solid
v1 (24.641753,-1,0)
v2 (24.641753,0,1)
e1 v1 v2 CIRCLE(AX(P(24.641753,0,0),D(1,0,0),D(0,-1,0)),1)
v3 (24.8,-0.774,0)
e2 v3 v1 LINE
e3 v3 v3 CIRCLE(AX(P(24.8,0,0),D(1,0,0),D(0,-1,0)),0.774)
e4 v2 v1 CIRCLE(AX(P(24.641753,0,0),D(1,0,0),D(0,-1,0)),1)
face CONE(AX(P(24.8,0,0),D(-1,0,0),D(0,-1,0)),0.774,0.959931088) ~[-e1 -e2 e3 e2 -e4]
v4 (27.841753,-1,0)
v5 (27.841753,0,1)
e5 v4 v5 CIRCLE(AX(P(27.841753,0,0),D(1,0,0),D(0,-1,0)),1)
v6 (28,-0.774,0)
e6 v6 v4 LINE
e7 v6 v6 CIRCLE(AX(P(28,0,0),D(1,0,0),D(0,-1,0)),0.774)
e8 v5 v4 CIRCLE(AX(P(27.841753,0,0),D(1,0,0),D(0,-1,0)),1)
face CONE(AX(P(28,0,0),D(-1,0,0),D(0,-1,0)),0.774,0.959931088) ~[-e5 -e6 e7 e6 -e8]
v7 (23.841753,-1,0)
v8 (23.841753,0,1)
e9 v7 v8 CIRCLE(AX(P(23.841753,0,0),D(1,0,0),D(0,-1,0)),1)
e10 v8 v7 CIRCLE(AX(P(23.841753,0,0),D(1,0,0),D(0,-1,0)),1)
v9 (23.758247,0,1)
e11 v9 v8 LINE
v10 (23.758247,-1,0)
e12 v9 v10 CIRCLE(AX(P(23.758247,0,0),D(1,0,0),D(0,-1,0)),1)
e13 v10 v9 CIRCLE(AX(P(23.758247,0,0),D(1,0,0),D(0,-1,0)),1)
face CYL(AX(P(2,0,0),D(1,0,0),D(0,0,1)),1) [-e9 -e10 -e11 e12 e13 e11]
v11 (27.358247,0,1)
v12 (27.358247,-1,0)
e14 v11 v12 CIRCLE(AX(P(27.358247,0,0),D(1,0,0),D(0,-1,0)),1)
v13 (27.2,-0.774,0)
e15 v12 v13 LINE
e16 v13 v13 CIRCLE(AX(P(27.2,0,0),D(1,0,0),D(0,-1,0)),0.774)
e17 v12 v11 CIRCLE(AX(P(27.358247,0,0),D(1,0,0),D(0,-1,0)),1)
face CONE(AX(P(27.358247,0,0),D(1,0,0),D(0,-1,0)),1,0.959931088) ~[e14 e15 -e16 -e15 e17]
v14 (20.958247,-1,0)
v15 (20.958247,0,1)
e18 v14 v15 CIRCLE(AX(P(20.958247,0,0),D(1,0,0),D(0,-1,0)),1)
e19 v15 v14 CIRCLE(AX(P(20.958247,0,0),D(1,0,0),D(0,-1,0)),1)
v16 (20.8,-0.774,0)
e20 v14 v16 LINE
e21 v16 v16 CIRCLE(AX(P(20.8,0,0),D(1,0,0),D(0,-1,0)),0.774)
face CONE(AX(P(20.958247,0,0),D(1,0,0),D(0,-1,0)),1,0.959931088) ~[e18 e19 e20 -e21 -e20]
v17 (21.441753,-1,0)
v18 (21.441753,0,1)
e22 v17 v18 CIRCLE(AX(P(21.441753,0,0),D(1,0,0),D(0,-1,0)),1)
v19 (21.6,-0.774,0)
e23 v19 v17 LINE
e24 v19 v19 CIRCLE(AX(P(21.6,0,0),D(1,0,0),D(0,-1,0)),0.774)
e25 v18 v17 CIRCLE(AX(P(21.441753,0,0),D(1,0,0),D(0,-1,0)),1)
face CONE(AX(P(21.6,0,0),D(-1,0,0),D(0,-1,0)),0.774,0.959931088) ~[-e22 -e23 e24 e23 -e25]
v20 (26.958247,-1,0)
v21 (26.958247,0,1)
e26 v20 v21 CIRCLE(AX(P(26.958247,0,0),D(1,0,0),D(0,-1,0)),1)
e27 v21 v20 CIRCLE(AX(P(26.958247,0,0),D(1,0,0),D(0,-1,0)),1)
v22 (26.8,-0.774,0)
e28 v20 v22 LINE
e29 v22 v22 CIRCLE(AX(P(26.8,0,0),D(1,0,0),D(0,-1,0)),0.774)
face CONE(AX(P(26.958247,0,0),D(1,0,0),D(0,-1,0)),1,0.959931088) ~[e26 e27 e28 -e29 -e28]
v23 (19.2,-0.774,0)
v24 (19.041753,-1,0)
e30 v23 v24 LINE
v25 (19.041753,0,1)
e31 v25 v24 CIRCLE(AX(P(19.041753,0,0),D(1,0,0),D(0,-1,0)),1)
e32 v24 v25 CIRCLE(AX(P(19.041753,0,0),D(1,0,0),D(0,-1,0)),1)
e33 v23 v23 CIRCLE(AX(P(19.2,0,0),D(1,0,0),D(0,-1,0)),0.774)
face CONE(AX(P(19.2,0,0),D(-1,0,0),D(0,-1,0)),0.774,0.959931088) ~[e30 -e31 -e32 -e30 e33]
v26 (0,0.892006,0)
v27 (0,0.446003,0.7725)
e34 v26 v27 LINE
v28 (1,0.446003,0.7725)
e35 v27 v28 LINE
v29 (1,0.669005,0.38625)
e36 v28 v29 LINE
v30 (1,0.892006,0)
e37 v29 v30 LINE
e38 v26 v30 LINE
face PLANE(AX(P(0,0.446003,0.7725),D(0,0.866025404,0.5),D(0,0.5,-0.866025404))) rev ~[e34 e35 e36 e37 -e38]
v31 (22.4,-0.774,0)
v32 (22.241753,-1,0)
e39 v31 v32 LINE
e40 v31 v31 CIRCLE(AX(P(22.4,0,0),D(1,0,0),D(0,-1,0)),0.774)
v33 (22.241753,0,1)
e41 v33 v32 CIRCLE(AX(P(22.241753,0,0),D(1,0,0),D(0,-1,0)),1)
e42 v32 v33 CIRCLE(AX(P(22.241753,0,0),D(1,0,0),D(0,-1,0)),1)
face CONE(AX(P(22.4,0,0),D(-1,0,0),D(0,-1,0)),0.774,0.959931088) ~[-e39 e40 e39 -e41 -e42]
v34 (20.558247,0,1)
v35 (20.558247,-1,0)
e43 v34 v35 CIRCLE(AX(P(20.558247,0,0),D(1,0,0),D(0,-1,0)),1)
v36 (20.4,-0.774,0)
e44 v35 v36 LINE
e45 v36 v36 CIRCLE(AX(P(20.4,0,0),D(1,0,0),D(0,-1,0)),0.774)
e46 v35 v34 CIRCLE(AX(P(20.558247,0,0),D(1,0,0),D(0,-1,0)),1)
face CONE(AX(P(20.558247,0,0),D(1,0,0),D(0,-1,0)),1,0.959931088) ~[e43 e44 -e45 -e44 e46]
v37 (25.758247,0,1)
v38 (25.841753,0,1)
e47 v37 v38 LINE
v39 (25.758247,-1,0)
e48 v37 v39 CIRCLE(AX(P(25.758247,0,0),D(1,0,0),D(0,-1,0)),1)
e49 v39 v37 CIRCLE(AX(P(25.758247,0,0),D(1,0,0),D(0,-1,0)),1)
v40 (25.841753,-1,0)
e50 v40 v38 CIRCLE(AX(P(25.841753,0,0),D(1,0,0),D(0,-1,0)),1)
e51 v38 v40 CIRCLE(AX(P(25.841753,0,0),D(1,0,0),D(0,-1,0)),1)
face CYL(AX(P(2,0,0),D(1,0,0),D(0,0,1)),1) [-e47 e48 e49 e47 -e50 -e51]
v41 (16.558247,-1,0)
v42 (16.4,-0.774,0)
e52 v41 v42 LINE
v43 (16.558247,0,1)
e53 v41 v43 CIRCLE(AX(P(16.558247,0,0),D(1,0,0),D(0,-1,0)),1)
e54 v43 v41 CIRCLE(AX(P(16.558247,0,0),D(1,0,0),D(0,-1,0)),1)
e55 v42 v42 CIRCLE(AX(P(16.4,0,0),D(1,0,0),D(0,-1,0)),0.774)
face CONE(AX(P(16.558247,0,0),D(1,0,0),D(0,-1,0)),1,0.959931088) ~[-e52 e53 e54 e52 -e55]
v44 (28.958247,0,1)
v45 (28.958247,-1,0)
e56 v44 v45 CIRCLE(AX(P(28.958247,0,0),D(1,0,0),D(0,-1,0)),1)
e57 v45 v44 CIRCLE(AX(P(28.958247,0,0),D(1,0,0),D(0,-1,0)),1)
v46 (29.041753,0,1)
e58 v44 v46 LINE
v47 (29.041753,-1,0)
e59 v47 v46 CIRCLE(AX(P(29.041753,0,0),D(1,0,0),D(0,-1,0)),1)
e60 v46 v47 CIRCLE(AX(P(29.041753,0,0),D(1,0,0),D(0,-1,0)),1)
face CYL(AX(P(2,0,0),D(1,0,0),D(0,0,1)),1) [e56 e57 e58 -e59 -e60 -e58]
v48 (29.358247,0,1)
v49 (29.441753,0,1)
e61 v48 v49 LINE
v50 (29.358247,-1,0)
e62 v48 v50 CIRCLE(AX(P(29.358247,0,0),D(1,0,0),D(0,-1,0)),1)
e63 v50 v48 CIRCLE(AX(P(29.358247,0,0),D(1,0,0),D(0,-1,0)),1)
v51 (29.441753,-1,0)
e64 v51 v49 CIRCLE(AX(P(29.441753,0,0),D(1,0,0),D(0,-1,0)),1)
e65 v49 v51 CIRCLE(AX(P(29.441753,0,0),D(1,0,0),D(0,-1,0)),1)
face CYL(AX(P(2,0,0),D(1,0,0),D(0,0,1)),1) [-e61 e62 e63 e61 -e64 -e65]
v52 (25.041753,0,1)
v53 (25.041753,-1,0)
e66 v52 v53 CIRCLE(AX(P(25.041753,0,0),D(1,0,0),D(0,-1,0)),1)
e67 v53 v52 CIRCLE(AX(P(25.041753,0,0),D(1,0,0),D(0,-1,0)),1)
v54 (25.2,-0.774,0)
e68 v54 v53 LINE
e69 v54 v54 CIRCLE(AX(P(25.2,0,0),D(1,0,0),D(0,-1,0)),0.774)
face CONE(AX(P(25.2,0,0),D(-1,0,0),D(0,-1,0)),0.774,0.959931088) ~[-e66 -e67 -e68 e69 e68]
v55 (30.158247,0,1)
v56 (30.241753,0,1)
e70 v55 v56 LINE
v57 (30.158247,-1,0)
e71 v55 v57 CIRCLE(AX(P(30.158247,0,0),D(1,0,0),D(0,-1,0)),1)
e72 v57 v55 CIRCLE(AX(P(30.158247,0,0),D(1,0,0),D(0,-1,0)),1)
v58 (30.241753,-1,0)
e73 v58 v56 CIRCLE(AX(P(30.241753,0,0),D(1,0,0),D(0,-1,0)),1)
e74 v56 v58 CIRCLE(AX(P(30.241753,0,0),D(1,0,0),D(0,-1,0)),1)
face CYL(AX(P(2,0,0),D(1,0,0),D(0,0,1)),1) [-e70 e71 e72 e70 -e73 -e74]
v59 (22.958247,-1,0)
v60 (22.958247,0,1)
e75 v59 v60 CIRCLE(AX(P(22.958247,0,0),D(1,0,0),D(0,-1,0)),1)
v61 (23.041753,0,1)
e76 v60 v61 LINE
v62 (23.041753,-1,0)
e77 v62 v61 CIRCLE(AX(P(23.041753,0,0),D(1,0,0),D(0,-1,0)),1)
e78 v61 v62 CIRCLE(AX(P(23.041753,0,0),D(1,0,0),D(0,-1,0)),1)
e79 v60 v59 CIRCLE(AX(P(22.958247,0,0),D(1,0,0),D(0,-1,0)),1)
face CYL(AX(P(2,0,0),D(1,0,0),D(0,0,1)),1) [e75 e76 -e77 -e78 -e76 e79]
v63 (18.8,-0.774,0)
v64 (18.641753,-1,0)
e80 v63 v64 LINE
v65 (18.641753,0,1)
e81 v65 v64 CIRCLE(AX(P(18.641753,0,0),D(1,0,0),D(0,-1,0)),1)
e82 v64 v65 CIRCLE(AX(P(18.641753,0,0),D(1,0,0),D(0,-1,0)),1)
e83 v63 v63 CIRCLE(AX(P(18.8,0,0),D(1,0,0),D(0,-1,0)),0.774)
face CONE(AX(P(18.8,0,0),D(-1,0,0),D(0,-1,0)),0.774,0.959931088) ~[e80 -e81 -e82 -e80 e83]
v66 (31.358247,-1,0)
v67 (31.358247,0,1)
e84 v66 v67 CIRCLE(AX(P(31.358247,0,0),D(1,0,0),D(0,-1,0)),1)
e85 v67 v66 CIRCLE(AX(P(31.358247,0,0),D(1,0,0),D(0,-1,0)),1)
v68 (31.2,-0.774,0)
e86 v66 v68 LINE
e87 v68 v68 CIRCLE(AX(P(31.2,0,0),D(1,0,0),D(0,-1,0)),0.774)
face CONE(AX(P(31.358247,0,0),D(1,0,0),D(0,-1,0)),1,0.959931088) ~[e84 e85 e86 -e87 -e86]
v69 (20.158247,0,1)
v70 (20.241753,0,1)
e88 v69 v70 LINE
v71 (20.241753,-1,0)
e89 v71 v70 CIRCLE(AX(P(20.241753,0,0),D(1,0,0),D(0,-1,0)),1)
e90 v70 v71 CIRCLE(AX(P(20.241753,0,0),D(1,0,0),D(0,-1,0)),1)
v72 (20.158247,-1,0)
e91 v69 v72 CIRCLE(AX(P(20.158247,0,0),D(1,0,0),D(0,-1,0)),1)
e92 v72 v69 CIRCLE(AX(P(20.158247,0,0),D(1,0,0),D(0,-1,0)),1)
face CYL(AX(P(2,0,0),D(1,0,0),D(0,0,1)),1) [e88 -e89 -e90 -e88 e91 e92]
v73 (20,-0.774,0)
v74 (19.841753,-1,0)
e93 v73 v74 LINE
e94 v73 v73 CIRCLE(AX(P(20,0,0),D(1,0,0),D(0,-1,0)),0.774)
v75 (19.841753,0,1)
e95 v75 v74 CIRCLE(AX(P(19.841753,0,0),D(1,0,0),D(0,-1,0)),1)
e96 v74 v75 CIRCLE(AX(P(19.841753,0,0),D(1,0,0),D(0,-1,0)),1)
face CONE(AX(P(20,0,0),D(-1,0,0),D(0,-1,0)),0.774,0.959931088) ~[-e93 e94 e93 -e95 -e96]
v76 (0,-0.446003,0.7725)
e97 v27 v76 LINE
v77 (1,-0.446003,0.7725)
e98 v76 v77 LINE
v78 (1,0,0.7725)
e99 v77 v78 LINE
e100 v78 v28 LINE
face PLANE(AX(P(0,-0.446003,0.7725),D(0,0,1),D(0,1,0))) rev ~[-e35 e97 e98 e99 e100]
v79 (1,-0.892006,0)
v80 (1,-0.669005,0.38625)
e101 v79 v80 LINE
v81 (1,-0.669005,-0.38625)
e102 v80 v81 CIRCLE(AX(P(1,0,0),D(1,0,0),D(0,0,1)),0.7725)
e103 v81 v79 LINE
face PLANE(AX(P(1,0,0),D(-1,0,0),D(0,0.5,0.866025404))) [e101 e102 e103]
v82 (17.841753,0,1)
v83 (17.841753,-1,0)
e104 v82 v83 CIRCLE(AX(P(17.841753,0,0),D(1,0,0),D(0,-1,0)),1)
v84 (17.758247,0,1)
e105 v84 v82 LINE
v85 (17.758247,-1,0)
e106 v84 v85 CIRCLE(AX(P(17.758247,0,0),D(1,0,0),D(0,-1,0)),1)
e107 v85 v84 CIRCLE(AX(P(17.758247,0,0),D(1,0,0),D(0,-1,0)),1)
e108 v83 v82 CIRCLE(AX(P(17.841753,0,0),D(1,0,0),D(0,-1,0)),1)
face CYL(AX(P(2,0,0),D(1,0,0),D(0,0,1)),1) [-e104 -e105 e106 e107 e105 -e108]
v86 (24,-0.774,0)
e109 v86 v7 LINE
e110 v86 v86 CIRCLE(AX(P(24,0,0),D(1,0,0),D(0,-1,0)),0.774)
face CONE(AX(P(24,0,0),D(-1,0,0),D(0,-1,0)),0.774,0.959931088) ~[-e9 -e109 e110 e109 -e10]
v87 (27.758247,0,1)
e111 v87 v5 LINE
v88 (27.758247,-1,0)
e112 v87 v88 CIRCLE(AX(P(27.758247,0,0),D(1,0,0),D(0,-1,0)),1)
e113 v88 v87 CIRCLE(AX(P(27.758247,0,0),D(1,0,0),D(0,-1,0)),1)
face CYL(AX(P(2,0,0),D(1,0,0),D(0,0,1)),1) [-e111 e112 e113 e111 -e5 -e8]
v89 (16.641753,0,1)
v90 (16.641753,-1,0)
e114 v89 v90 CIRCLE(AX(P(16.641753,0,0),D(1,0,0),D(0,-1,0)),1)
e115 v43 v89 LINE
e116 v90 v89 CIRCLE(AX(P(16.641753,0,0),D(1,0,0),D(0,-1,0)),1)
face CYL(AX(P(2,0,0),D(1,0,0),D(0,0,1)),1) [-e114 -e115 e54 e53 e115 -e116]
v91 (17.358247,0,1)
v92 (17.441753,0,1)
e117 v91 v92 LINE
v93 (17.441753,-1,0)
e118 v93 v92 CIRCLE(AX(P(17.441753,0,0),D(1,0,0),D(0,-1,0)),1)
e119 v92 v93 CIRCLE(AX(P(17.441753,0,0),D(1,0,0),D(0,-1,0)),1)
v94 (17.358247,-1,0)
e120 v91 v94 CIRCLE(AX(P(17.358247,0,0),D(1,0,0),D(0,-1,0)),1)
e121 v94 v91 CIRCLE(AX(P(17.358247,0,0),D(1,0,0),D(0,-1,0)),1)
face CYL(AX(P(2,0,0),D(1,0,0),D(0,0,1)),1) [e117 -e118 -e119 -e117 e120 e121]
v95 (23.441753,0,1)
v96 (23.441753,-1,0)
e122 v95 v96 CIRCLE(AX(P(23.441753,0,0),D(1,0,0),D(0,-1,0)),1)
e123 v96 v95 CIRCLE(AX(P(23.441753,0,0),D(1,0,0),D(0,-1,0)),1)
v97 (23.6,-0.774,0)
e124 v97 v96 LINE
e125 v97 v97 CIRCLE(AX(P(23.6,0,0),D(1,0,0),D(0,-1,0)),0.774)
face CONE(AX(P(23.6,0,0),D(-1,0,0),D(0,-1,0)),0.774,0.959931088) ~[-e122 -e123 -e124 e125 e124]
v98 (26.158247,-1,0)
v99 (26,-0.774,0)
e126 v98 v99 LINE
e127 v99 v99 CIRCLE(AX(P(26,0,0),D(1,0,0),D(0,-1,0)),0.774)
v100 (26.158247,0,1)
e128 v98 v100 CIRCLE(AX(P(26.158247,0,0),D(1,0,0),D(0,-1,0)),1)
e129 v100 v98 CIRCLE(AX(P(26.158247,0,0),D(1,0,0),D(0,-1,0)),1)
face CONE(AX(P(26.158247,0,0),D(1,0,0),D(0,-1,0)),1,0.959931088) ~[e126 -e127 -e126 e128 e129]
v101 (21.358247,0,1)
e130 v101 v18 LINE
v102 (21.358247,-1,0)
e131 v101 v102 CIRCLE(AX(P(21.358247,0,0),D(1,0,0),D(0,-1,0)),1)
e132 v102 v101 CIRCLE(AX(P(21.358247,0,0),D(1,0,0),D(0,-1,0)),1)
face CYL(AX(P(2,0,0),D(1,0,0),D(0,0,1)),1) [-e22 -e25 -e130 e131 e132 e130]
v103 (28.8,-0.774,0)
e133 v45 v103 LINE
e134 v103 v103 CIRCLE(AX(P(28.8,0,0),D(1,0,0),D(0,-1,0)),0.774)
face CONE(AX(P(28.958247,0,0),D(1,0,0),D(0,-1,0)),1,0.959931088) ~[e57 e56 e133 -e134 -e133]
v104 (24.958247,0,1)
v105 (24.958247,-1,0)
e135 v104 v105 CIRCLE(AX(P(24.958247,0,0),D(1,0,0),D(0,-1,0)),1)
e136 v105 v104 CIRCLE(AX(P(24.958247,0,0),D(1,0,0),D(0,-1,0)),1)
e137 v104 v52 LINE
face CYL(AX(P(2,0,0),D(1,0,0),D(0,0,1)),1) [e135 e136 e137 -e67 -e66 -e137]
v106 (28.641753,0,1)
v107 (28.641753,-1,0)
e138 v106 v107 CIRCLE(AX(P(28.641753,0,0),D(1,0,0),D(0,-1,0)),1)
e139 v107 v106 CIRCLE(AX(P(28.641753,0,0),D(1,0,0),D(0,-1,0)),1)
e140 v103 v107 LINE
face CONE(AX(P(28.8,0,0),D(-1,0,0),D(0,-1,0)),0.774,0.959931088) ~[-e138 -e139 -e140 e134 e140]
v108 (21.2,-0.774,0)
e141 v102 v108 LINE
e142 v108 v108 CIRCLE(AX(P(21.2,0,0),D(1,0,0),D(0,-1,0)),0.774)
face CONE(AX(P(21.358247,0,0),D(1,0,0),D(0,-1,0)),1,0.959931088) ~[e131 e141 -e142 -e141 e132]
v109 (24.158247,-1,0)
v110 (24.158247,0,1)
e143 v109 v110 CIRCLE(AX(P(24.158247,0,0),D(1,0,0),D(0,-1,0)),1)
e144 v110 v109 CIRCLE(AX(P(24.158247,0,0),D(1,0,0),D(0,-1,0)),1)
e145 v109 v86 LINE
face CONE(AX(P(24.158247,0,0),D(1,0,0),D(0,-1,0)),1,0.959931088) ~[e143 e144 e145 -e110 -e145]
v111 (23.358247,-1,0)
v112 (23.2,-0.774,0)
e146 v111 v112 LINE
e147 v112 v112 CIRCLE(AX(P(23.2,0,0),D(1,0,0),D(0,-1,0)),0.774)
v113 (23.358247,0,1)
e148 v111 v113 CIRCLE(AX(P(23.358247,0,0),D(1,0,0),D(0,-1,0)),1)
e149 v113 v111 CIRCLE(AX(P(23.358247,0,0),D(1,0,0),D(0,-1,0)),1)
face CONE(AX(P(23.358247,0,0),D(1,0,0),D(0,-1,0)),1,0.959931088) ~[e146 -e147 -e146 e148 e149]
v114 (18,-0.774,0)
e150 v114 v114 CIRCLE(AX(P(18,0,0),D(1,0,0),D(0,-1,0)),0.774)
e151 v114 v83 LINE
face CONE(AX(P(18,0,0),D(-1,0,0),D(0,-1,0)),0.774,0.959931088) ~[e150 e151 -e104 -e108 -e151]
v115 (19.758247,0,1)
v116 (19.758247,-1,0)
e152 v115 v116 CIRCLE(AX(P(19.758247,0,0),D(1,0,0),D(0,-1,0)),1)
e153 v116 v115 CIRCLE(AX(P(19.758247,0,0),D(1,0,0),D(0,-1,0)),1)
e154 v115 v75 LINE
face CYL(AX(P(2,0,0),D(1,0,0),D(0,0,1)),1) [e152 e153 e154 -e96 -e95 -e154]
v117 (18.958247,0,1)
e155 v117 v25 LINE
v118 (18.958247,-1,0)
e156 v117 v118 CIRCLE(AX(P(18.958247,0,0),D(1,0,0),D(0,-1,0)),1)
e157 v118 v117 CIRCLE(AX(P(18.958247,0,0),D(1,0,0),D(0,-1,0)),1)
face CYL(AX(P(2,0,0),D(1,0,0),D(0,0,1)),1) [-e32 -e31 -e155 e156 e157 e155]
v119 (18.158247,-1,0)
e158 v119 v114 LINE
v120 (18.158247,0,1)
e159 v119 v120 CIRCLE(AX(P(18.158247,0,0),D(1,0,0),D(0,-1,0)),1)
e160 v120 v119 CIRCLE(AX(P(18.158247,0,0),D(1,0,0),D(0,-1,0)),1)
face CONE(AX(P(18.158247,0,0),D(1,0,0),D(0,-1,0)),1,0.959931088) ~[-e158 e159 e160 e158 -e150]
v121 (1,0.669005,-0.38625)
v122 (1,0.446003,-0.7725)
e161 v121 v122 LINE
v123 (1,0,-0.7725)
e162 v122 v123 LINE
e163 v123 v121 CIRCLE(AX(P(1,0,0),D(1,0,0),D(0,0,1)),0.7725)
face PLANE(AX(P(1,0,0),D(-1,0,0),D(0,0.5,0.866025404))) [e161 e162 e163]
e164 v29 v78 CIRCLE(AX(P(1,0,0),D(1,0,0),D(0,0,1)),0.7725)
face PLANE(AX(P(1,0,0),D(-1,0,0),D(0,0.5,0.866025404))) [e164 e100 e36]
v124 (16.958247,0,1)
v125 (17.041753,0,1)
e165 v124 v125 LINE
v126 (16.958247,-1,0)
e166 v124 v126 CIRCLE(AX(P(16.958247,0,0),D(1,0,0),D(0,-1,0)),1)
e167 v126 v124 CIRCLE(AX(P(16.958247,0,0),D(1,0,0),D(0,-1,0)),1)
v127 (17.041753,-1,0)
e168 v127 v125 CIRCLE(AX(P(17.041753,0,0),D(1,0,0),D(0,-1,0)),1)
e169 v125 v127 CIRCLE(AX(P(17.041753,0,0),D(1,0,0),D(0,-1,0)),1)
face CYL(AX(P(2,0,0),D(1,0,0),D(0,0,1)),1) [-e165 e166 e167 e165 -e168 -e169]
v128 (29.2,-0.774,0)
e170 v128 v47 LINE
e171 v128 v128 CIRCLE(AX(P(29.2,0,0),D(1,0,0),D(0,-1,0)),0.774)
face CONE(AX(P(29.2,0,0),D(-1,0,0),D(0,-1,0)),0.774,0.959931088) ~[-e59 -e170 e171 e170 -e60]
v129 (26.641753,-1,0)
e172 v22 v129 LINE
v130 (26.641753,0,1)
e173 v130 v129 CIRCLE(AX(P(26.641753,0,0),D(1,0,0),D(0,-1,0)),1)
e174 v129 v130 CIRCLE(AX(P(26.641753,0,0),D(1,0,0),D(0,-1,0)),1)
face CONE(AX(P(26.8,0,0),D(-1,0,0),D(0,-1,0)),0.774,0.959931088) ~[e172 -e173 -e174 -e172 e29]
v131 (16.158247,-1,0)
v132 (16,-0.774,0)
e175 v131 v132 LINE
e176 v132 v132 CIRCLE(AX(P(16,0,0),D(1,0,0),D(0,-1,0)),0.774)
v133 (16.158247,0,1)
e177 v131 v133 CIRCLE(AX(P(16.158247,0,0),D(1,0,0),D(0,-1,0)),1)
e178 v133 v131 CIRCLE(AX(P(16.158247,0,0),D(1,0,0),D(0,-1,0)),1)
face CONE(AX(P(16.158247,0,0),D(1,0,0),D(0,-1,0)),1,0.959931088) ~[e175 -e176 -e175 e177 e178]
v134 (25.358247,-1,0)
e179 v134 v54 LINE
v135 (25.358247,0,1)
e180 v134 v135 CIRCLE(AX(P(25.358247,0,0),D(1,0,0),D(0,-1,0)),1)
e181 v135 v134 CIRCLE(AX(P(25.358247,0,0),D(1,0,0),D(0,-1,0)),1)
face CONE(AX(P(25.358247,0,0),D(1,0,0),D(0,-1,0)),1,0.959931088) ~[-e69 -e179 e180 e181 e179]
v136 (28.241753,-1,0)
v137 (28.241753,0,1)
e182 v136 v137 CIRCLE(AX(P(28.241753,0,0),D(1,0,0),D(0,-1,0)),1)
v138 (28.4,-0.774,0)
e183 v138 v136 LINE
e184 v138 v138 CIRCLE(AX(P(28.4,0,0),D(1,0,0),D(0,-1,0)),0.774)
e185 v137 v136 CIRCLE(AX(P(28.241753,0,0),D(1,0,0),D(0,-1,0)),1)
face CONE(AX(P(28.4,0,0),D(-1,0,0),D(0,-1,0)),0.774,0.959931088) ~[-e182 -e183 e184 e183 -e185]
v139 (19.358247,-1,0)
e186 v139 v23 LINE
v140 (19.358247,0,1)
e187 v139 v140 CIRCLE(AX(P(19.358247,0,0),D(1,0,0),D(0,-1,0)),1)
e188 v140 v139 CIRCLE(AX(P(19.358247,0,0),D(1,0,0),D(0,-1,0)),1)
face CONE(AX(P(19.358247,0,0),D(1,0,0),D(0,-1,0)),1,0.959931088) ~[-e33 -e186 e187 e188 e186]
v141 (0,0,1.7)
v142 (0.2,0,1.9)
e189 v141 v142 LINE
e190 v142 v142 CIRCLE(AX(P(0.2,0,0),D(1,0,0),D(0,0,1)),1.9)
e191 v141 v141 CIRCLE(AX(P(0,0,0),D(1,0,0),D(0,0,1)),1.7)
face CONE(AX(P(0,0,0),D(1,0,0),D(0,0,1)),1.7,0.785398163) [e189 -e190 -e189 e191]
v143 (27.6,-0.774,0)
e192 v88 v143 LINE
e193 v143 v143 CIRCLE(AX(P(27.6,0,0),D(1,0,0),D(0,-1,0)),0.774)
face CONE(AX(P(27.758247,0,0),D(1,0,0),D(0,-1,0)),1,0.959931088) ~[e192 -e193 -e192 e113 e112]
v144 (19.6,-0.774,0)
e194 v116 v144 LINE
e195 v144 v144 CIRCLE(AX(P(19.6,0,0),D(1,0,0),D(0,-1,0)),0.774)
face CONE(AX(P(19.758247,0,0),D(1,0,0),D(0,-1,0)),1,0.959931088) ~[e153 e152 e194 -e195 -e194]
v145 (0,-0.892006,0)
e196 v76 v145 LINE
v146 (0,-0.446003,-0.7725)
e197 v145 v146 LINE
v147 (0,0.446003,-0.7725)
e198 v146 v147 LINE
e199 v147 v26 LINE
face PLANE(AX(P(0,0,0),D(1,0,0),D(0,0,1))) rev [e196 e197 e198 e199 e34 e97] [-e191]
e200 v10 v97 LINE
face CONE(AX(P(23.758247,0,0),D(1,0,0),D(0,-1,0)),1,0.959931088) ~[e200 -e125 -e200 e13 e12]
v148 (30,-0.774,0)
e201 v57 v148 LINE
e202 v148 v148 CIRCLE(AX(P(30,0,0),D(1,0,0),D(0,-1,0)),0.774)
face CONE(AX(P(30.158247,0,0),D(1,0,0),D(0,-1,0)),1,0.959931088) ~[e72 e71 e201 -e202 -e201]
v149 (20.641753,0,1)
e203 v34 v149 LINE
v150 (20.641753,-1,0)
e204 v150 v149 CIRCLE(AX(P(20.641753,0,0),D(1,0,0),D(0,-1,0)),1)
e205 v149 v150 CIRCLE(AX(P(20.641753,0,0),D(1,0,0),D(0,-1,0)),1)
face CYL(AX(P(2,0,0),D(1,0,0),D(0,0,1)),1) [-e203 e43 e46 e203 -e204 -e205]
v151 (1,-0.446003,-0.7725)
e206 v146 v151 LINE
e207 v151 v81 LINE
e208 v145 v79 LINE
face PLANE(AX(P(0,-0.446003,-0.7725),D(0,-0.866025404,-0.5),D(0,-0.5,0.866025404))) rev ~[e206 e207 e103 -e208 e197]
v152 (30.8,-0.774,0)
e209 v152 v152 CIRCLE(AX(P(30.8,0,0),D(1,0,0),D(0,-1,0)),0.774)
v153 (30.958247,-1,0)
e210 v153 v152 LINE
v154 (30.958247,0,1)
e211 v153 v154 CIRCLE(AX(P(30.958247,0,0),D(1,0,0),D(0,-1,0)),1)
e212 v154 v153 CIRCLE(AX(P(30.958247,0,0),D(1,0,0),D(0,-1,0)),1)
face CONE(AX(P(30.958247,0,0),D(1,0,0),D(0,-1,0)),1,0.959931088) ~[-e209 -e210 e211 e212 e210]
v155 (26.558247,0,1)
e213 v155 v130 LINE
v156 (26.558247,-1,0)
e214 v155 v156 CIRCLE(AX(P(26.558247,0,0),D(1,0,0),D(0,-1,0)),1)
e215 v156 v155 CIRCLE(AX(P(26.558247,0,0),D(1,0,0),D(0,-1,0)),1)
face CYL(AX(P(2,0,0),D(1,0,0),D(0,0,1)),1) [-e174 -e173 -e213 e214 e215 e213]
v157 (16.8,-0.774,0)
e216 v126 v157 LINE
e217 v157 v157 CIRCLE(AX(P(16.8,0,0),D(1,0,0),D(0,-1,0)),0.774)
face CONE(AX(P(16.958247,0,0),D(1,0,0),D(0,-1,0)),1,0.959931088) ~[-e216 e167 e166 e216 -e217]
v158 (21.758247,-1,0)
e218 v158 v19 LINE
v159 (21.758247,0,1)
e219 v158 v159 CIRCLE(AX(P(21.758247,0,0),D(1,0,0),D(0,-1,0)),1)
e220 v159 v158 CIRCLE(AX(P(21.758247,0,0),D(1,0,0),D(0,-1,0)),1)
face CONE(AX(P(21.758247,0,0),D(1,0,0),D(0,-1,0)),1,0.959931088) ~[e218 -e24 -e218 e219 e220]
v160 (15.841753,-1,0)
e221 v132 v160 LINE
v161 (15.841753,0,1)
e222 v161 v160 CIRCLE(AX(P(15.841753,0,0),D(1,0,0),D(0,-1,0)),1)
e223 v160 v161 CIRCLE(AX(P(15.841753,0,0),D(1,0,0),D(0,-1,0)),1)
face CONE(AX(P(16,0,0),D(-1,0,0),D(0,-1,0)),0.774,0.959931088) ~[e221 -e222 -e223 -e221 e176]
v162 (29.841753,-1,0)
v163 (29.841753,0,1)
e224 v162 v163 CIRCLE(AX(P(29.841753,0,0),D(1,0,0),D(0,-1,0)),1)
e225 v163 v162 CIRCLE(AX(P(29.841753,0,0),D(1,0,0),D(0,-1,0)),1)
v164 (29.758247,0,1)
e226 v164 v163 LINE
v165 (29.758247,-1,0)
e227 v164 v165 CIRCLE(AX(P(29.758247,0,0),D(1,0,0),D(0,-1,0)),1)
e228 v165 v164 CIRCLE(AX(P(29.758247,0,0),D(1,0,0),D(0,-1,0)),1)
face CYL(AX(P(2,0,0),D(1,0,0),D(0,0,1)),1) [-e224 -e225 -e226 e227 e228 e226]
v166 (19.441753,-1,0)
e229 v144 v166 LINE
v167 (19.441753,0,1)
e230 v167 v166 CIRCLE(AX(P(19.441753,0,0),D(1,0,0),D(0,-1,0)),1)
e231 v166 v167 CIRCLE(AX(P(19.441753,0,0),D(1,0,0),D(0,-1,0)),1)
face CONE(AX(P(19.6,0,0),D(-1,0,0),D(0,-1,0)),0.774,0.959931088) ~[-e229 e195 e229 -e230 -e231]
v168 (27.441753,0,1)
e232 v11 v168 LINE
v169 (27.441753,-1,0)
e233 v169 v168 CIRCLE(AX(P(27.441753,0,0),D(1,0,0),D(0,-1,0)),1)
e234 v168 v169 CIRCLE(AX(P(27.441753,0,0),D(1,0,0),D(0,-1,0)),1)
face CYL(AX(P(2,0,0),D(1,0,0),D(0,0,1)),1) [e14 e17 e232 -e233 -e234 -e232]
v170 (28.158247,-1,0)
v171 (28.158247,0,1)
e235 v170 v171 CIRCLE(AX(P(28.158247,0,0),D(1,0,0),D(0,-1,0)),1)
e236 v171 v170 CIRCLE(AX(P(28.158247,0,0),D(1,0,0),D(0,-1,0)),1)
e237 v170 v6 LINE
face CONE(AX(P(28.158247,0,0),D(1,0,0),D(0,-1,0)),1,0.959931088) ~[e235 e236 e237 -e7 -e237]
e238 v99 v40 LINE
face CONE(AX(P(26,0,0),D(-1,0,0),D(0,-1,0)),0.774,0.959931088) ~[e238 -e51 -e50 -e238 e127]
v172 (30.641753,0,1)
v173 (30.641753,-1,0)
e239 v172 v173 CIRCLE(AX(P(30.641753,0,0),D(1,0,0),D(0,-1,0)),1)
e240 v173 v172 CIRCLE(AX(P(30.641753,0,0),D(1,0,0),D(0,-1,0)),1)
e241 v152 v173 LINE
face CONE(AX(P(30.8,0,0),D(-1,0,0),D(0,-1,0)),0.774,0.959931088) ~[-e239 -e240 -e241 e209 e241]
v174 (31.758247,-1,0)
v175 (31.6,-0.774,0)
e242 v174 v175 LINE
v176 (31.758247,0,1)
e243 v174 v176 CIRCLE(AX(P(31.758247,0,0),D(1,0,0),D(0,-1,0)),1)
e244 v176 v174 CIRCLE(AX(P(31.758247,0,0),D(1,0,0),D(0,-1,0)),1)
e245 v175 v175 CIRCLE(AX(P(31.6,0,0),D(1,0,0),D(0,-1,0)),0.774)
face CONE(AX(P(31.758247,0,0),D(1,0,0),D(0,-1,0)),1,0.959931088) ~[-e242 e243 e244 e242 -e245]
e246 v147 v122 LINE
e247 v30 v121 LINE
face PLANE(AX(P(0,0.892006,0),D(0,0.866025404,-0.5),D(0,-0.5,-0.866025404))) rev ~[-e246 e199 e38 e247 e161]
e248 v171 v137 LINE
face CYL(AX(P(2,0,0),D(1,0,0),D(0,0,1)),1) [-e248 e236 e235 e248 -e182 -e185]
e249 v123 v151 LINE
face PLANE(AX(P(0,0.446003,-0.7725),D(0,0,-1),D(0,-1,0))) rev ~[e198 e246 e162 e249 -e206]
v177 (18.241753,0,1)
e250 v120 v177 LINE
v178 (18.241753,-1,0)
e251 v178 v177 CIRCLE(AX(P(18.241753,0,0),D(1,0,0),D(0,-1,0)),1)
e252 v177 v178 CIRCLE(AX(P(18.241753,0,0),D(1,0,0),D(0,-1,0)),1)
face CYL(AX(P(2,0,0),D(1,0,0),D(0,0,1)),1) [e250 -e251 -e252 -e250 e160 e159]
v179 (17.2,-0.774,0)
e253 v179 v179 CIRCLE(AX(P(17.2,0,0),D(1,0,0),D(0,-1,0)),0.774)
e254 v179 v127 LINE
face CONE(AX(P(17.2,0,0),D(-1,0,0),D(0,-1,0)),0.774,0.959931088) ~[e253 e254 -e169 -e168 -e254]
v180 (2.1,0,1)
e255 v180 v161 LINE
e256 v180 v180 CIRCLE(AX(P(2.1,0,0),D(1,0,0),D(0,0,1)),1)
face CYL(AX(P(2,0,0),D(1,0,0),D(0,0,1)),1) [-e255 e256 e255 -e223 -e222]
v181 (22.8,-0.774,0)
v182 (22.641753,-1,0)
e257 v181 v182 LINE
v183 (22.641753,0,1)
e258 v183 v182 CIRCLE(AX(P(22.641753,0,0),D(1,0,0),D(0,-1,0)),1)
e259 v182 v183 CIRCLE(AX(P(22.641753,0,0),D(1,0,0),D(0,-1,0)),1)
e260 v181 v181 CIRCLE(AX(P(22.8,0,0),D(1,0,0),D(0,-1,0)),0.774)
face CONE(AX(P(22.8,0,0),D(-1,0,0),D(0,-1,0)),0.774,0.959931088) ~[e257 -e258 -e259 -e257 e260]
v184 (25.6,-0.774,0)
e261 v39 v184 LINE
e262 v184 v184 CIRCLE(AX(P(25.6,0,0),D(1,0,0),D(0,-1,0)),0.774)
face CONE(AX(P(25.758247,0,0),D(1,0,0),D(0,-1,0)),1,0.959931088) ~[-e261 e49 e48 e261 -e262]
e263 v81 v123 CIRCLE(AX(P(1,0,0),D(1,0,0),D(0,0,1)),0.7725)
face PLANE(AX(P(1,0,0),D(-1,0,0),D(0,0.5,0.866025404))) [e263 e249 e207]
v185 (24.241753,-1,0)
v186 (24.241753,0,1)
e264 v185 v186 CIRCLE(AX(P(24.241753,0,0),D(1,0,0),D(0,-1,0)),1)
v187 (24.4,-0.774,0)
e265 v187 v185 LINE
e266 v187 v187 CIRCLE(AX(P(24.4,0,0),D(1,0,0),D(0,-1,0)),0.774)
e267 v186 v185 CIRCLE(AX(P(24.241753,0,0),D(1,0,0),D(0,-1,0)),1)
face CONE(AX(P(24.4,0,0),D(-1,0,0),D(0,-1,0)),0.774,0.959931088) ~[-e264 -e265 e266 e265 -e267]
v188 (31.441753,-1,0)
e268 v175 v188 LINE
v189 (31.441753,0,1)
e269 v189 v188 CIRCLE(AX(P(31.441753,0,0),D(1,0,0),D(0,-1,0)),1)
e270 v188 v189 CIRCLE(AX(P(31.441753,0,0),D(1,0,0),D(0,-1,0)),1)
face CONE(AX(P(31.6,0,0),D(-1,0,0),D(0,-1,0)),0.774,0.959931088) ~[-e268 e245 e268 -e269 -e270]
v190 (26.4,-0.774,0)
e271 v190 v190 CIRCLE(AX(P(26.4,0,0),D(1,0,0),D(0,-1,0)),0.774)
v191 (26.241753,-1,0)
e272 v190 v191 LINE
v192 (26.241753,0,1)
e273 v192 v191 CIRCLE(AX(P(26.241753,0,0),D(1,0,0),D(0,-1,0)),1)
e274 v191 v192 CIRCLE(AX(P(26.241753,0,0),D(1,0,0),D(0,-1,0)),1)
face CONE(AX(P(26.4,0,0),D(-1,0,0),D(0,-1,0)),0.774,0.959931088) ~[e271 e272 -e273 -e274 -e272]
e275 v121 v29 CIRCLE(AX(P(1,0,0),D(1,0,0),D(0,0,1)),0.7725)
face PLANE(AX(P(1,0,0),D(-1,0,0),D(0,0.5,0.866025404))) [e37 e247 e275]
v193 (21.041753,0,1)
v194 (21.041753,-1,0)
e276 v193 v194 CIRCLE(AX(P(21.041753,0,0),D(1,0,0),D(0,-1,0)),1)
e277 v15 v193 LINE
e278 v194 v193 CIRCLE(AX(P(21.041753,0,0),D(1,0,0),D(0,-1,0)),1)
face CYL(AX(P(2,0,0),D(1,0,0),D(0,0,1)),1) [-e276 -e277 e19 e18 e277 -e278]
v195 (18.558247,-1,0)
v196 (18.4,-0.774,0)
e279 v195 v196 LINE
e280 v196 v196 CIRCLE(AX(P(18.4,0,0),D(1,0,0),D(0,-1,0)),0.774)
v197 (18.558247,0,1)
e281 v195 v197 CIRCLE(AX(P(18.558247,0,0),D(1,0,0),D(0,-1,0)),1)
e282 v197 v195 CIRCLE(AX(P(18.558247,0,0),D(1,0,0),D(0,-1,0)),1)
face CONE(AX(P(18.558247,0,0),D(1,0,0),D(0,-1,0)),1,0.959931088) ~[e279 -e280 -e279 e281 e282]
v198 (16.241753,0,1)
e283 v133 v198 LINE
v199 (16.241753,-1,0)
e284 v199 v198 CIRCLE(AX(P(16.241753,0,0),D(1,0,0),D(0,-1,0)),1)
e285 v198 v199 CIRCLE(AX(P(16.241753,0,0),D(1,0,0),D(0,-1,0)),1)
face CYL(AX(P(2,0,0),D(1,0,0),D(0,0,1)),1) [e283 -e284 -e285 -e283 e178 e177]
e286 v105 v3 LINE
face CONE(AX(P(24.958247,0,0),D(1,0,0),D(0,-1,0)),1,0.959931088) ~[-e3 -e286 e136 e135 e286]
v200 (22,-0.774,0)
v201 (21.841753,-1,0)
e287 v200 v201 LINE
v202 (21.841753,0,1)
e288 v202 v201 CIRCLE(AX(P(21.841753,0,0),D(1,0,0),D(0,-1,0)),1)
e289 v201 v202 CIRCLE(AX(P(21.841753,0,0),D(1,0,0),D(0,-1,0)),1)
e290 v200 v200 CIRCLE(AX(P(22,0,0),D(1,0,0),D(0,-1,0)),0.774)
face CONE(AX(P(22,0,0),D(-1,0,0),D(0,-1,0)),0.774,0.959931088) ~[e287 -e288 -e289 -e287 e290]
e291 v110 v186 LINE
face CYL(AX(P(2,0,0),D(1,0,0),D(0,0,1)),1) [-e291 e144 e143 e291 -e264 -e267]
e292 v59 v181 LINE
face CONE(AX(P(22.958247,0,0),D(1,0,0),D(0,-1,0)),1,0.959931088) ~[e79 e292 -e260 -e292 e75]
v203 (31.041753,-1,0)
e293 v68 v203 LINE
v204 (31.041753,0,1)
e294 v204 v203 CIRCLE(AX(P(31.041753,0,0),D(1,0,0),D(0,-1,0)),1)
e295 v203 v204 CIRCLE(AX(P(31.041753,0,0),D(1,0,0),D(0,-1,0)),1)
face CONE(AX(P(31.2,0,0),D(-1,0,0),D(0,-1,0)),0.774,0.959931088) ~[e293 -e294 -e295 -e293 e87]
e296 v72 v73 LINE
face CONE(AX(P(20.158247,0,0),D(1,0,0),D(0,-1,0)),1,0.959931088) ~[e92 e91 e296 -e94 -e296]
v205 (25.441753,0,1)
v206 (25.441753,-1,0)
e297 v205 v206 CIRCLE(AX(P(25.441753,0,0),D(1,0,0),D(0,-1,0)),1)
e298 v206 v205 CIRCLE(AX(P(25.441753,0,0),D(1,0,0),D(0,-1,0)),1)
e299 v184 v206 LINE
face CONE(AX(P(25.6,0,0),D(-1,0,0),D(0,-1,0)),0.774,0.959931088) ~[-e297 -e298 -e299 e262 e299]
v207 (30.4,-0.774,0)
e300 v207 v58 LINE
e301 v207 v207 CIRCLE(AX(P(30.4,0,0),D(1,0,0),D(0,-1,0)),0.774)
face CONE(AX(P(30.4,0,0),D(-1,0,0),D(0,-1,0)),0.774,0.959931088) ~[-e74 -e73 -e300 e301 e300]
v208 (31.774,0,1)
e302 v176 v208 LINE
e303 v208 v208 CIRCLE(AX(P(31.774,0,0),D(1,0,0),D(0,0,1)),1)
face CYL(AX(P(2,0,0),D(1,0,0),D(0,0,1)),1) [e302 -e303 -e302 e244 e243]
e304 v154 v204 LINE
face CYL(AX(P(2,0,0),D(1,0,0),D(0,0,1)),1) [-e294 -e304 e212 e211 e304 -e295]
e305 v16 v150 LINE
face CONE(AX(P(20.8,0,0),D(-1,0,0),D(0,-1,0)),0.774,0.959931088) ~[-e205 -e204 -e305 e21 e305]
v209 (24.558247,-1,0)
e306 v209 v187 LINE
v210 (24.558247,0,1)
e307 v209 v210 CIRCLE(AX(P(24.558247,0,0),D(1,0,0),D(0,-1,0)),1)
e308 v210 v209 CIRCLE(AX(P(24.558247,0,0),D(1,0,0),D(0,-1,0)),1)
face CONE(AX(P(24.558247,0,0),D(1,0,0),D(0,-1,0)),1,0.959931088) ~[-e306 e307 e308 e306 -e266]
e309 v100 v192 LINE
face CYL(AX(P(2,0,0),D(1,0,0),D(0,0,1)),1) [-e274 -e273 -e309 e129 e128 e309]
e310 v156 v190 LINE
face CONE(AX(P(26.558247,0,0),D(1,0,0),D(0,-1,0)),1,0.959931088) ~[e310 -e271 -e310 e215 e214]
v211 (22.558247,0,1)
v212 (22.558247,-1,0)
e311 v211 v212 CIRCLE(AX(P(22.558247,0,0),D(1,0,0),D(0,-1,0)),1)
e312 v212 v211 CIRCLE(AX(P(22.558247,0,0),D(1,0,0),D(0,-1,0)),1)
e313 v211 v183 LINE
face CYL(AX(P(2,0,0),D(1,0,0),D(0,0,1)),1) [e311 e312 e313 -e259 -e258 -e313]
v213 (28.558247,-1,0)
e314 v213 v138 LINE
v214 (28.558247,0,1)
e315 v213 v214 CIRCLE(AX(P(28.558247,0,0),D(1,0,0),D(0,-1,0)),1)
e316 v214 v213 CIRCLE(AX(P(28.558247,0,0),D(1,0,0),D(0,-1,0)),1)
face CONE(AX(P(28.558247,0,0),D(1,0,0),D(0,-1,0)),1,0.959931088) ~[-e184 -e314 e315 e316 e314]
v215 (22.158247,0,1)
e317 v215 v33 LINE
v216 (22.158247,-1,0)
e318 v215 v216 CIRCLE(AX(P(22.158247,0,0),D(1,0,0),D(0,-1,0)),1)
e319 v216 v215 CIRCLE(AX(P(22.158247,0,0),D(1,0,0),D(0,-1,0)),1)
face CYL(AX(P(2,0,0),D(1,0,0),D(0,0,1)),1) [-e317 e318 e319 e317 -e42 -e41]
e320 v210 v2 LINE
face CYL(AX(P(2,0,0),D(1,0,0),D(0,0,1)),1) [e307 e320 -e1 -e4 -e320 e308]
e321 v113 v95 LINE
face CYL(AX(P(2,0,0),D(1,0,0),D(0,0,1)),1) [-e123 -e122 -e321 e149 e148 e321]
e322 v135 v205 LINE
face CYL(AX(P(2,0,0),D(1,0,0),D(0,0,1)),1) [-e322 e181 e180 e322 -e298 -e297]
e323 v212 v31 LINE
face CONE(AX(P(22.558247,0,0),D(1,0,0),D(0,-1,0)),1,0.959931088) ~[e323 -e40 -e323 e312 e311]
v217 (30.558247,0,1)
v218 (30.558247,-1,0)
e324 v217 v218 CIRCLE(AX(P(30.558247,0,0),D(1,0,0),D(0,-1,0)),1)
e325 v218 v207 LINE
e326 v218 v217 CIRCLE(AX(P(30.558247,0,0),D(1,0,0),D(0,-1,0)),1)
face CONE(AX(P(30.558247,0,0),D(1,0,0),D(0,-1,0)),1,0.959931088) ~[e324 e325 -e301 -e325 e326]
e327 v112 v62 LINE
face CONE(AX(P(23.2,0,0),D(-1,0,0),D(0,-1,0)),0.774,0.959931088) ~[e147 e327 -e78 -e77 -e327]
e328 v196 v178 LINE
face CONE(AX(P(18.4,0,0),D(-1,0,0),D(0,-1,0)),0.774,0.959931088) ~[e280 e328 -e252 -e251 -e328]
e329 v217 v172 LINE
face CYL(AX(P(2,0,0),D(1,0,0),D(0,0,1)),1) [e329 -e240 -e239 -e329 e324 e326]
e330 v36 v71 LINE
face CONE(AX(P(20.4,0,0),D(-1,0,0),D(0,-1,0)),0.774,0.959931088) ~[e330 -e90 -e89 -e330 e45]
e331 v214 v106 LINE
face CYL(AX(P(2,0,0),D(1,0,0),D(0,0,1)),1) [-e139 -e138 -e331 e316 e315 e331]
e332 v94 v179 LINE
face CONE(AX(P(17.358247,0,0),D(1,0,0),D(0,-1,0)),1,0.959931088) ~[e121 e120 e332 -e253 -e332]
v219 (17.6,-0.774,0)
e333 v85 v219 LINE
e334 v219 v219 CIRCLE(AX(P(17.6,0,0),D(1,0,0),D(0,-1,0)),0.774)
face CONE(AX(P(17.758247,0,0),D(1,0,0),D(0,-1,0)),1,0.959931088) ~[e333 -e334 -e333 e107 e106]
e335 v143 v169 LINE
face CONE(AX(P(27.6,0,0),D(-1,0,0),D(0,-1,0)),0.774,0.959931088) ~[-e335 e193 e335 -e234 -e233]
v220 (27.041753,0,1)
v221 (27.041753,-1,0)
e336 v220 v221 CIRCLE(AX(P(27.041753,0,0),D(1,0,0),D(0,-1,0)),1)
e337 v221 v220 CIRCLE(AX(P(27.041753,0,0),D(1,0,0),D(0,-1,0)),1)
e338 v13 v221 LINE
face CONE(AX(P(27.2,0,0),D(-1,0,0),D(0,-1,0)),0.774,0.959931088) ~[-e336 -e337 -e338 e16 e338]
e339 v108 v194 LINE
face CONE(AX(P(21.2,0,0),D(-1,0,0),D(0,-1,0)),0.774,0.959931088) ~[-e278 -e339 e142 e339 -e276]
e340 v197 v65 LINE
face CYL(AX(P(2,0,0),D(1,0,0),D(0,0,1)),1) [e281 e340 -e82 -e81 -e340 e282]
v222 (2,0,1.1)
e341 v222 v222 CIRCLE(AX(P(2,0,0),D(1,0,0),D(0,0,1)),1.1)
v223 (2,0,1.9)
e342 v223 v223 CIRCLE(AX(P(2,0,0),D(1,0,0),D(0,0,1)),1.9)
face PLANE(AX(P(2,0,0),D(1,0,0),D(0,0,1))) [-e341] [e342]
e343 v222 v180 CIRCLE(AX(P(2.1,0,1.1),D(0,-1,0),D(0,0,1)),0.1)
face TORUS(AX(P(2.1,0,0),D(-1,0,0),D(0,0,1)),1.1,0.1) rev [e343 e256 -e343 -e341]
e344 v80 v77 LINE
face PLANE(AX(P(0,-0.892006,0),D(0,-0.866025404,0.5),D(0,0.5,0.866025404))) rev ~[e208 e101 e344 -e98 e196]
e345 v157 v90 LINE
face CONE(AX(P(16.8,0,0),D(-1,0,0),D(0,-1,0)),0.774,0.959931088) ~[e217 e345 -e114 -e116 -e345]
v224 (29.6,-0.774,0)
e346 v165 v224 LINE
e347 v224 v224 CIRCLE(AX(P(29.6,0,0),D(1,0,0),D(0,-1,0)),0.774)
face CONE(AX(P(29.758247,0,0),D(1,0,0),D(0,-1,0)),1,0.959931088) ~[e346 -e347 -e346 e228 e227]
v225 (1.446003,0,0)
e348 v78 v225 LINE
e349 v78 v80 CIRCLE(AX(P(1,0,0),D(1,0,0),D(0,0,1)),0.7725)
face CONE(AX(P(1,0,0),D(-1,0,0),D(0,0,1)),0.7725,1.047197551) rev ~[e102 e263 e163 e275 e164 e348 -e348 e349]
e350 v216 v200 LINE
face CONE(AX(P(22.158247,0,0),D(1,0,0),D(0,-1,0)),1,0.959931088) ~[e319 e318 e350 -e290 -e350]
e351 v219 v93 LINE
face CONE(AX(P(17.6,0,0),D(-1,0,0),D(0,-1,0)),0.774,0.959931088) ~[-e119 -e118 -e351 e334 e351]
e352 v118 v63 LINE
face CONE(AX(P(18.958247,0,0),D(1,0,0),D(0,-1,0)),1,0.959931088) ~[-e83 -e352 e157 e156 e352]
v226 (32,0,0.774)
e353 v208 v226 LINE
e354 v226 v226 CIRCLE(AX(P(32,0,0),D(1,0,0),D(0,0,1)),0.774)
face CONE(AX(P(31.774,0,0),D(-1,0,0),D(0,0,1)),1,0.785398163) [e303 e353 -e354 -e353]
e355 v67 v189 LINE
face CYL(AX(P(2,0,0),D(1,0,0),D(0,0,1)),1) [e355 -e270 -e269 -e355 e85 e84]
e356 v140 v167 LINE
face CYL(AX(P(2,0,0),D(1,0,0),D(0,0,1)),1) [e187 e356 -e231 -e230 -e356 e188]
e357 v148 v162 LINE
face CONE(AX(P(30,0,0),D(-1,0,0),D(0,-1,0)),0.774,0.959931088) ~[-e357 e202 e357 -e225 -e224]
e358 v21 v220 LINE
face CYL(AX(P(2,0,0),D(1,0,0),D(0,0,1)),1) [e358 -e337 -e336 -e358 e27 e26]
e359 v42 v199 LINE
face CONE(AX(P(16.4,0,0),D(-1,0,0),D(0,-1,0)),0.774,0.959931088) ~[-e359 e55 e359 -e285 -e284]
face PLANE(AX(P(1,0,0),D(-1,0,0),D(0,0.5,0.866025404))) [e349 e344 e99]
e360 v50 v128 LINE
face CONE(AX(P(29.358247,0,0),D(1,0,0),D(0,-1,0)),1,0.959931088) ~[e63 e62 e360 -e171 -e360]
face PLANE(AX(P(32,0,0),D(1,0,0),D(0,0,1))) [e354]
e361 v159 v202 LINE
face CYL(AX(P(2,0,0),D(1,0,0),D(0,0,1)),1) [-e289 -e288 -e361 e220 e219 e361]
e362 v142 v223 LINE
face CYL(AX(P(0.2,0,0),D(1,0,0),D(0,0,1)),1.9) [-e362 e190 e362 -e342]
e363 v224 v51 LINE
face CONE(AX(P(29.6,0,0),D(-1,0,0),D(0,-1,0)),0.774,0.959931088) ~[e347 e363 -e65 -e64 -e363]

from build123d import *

# Parameters (mm, degrees)
FILLET1_R       = 0.1
HEX_2_DEPTH     = 1
THDSCHPAT_COUNT = 40
THDSCHPAT_PITCH = 0.4


with BuildPart() as part:
    # BodySke → Base-Revolve (revolve)
    with BuildSketch(Plane.XY):
        Polygon((0, 0), (0, 1.7), (0.2, 1.9), (2, 1.9), (2, 1), (31.774, 1), (32, 0.774), (32, 0), align=None)
    revolve(axis=Axis((-31.75, 0, 0), (1, 0, 0)))

    # Fillet1
    fillet1_edges = [part.edges().sort_by_distance(p)[0] for p in [
        (2, -1, 0),
    ]]
    fillet(fillet1_edges, radius=FILLET1_R)

    # Sketch2 → Hex-PreBroach (revolve, cut)
    with BuildSketch(Plane.XY):
        Polygon((0, 0.7725), (1, 0.7725), (1.446003083, 0), (0, 0), align=None)
    revolve(axis=Axis((0, 0, 0), (1, 0, 0)), mode=Mode.SUBTRACT)

    # Sketch3 → Hex 2 (cut)
    with BuildSketch(Plane(origin=(0, 0, 0), x_dir=(0, 0.500000000000001, 0.866025403784438), z_dir=(-1, 0, 0))):
        Polygon((0.446003083, 0.7725), (-0.446003083, 0.7725), (-0.892006166, 0), (-0.446003083, -0.7725), (0.446003083, -0.7725), (0.892006166, 0), align=None)
    extrude(amount=-HEX_2_DEPTH, mode=Mode.SUBTRACT)

    # ThdSchSke → ThreadSchematic (revolve, cut)
    with BuildSketch(Plane.XY):
        Polygon((16, -0.774), (15.841753096, -1), (15.841753096, -1.25), (16.158246904, -1.25), (16.158246904, -1), align=None)
    threadschematic = revolve(axis=Axis((-3.175, 0, 0), (1, 0, 0)), mode=Mode.SUBTRACT)

    # ThdSchPat: ThreadSchematic ×40
    with Locations(*[(i * THDSCHPAT_PITCH, 0, 0) for i in range(1, THDSCHPAT_COUNT)]):
        add(threadschematic, mode=Mode.SUBTRACT)


solid = part.part
